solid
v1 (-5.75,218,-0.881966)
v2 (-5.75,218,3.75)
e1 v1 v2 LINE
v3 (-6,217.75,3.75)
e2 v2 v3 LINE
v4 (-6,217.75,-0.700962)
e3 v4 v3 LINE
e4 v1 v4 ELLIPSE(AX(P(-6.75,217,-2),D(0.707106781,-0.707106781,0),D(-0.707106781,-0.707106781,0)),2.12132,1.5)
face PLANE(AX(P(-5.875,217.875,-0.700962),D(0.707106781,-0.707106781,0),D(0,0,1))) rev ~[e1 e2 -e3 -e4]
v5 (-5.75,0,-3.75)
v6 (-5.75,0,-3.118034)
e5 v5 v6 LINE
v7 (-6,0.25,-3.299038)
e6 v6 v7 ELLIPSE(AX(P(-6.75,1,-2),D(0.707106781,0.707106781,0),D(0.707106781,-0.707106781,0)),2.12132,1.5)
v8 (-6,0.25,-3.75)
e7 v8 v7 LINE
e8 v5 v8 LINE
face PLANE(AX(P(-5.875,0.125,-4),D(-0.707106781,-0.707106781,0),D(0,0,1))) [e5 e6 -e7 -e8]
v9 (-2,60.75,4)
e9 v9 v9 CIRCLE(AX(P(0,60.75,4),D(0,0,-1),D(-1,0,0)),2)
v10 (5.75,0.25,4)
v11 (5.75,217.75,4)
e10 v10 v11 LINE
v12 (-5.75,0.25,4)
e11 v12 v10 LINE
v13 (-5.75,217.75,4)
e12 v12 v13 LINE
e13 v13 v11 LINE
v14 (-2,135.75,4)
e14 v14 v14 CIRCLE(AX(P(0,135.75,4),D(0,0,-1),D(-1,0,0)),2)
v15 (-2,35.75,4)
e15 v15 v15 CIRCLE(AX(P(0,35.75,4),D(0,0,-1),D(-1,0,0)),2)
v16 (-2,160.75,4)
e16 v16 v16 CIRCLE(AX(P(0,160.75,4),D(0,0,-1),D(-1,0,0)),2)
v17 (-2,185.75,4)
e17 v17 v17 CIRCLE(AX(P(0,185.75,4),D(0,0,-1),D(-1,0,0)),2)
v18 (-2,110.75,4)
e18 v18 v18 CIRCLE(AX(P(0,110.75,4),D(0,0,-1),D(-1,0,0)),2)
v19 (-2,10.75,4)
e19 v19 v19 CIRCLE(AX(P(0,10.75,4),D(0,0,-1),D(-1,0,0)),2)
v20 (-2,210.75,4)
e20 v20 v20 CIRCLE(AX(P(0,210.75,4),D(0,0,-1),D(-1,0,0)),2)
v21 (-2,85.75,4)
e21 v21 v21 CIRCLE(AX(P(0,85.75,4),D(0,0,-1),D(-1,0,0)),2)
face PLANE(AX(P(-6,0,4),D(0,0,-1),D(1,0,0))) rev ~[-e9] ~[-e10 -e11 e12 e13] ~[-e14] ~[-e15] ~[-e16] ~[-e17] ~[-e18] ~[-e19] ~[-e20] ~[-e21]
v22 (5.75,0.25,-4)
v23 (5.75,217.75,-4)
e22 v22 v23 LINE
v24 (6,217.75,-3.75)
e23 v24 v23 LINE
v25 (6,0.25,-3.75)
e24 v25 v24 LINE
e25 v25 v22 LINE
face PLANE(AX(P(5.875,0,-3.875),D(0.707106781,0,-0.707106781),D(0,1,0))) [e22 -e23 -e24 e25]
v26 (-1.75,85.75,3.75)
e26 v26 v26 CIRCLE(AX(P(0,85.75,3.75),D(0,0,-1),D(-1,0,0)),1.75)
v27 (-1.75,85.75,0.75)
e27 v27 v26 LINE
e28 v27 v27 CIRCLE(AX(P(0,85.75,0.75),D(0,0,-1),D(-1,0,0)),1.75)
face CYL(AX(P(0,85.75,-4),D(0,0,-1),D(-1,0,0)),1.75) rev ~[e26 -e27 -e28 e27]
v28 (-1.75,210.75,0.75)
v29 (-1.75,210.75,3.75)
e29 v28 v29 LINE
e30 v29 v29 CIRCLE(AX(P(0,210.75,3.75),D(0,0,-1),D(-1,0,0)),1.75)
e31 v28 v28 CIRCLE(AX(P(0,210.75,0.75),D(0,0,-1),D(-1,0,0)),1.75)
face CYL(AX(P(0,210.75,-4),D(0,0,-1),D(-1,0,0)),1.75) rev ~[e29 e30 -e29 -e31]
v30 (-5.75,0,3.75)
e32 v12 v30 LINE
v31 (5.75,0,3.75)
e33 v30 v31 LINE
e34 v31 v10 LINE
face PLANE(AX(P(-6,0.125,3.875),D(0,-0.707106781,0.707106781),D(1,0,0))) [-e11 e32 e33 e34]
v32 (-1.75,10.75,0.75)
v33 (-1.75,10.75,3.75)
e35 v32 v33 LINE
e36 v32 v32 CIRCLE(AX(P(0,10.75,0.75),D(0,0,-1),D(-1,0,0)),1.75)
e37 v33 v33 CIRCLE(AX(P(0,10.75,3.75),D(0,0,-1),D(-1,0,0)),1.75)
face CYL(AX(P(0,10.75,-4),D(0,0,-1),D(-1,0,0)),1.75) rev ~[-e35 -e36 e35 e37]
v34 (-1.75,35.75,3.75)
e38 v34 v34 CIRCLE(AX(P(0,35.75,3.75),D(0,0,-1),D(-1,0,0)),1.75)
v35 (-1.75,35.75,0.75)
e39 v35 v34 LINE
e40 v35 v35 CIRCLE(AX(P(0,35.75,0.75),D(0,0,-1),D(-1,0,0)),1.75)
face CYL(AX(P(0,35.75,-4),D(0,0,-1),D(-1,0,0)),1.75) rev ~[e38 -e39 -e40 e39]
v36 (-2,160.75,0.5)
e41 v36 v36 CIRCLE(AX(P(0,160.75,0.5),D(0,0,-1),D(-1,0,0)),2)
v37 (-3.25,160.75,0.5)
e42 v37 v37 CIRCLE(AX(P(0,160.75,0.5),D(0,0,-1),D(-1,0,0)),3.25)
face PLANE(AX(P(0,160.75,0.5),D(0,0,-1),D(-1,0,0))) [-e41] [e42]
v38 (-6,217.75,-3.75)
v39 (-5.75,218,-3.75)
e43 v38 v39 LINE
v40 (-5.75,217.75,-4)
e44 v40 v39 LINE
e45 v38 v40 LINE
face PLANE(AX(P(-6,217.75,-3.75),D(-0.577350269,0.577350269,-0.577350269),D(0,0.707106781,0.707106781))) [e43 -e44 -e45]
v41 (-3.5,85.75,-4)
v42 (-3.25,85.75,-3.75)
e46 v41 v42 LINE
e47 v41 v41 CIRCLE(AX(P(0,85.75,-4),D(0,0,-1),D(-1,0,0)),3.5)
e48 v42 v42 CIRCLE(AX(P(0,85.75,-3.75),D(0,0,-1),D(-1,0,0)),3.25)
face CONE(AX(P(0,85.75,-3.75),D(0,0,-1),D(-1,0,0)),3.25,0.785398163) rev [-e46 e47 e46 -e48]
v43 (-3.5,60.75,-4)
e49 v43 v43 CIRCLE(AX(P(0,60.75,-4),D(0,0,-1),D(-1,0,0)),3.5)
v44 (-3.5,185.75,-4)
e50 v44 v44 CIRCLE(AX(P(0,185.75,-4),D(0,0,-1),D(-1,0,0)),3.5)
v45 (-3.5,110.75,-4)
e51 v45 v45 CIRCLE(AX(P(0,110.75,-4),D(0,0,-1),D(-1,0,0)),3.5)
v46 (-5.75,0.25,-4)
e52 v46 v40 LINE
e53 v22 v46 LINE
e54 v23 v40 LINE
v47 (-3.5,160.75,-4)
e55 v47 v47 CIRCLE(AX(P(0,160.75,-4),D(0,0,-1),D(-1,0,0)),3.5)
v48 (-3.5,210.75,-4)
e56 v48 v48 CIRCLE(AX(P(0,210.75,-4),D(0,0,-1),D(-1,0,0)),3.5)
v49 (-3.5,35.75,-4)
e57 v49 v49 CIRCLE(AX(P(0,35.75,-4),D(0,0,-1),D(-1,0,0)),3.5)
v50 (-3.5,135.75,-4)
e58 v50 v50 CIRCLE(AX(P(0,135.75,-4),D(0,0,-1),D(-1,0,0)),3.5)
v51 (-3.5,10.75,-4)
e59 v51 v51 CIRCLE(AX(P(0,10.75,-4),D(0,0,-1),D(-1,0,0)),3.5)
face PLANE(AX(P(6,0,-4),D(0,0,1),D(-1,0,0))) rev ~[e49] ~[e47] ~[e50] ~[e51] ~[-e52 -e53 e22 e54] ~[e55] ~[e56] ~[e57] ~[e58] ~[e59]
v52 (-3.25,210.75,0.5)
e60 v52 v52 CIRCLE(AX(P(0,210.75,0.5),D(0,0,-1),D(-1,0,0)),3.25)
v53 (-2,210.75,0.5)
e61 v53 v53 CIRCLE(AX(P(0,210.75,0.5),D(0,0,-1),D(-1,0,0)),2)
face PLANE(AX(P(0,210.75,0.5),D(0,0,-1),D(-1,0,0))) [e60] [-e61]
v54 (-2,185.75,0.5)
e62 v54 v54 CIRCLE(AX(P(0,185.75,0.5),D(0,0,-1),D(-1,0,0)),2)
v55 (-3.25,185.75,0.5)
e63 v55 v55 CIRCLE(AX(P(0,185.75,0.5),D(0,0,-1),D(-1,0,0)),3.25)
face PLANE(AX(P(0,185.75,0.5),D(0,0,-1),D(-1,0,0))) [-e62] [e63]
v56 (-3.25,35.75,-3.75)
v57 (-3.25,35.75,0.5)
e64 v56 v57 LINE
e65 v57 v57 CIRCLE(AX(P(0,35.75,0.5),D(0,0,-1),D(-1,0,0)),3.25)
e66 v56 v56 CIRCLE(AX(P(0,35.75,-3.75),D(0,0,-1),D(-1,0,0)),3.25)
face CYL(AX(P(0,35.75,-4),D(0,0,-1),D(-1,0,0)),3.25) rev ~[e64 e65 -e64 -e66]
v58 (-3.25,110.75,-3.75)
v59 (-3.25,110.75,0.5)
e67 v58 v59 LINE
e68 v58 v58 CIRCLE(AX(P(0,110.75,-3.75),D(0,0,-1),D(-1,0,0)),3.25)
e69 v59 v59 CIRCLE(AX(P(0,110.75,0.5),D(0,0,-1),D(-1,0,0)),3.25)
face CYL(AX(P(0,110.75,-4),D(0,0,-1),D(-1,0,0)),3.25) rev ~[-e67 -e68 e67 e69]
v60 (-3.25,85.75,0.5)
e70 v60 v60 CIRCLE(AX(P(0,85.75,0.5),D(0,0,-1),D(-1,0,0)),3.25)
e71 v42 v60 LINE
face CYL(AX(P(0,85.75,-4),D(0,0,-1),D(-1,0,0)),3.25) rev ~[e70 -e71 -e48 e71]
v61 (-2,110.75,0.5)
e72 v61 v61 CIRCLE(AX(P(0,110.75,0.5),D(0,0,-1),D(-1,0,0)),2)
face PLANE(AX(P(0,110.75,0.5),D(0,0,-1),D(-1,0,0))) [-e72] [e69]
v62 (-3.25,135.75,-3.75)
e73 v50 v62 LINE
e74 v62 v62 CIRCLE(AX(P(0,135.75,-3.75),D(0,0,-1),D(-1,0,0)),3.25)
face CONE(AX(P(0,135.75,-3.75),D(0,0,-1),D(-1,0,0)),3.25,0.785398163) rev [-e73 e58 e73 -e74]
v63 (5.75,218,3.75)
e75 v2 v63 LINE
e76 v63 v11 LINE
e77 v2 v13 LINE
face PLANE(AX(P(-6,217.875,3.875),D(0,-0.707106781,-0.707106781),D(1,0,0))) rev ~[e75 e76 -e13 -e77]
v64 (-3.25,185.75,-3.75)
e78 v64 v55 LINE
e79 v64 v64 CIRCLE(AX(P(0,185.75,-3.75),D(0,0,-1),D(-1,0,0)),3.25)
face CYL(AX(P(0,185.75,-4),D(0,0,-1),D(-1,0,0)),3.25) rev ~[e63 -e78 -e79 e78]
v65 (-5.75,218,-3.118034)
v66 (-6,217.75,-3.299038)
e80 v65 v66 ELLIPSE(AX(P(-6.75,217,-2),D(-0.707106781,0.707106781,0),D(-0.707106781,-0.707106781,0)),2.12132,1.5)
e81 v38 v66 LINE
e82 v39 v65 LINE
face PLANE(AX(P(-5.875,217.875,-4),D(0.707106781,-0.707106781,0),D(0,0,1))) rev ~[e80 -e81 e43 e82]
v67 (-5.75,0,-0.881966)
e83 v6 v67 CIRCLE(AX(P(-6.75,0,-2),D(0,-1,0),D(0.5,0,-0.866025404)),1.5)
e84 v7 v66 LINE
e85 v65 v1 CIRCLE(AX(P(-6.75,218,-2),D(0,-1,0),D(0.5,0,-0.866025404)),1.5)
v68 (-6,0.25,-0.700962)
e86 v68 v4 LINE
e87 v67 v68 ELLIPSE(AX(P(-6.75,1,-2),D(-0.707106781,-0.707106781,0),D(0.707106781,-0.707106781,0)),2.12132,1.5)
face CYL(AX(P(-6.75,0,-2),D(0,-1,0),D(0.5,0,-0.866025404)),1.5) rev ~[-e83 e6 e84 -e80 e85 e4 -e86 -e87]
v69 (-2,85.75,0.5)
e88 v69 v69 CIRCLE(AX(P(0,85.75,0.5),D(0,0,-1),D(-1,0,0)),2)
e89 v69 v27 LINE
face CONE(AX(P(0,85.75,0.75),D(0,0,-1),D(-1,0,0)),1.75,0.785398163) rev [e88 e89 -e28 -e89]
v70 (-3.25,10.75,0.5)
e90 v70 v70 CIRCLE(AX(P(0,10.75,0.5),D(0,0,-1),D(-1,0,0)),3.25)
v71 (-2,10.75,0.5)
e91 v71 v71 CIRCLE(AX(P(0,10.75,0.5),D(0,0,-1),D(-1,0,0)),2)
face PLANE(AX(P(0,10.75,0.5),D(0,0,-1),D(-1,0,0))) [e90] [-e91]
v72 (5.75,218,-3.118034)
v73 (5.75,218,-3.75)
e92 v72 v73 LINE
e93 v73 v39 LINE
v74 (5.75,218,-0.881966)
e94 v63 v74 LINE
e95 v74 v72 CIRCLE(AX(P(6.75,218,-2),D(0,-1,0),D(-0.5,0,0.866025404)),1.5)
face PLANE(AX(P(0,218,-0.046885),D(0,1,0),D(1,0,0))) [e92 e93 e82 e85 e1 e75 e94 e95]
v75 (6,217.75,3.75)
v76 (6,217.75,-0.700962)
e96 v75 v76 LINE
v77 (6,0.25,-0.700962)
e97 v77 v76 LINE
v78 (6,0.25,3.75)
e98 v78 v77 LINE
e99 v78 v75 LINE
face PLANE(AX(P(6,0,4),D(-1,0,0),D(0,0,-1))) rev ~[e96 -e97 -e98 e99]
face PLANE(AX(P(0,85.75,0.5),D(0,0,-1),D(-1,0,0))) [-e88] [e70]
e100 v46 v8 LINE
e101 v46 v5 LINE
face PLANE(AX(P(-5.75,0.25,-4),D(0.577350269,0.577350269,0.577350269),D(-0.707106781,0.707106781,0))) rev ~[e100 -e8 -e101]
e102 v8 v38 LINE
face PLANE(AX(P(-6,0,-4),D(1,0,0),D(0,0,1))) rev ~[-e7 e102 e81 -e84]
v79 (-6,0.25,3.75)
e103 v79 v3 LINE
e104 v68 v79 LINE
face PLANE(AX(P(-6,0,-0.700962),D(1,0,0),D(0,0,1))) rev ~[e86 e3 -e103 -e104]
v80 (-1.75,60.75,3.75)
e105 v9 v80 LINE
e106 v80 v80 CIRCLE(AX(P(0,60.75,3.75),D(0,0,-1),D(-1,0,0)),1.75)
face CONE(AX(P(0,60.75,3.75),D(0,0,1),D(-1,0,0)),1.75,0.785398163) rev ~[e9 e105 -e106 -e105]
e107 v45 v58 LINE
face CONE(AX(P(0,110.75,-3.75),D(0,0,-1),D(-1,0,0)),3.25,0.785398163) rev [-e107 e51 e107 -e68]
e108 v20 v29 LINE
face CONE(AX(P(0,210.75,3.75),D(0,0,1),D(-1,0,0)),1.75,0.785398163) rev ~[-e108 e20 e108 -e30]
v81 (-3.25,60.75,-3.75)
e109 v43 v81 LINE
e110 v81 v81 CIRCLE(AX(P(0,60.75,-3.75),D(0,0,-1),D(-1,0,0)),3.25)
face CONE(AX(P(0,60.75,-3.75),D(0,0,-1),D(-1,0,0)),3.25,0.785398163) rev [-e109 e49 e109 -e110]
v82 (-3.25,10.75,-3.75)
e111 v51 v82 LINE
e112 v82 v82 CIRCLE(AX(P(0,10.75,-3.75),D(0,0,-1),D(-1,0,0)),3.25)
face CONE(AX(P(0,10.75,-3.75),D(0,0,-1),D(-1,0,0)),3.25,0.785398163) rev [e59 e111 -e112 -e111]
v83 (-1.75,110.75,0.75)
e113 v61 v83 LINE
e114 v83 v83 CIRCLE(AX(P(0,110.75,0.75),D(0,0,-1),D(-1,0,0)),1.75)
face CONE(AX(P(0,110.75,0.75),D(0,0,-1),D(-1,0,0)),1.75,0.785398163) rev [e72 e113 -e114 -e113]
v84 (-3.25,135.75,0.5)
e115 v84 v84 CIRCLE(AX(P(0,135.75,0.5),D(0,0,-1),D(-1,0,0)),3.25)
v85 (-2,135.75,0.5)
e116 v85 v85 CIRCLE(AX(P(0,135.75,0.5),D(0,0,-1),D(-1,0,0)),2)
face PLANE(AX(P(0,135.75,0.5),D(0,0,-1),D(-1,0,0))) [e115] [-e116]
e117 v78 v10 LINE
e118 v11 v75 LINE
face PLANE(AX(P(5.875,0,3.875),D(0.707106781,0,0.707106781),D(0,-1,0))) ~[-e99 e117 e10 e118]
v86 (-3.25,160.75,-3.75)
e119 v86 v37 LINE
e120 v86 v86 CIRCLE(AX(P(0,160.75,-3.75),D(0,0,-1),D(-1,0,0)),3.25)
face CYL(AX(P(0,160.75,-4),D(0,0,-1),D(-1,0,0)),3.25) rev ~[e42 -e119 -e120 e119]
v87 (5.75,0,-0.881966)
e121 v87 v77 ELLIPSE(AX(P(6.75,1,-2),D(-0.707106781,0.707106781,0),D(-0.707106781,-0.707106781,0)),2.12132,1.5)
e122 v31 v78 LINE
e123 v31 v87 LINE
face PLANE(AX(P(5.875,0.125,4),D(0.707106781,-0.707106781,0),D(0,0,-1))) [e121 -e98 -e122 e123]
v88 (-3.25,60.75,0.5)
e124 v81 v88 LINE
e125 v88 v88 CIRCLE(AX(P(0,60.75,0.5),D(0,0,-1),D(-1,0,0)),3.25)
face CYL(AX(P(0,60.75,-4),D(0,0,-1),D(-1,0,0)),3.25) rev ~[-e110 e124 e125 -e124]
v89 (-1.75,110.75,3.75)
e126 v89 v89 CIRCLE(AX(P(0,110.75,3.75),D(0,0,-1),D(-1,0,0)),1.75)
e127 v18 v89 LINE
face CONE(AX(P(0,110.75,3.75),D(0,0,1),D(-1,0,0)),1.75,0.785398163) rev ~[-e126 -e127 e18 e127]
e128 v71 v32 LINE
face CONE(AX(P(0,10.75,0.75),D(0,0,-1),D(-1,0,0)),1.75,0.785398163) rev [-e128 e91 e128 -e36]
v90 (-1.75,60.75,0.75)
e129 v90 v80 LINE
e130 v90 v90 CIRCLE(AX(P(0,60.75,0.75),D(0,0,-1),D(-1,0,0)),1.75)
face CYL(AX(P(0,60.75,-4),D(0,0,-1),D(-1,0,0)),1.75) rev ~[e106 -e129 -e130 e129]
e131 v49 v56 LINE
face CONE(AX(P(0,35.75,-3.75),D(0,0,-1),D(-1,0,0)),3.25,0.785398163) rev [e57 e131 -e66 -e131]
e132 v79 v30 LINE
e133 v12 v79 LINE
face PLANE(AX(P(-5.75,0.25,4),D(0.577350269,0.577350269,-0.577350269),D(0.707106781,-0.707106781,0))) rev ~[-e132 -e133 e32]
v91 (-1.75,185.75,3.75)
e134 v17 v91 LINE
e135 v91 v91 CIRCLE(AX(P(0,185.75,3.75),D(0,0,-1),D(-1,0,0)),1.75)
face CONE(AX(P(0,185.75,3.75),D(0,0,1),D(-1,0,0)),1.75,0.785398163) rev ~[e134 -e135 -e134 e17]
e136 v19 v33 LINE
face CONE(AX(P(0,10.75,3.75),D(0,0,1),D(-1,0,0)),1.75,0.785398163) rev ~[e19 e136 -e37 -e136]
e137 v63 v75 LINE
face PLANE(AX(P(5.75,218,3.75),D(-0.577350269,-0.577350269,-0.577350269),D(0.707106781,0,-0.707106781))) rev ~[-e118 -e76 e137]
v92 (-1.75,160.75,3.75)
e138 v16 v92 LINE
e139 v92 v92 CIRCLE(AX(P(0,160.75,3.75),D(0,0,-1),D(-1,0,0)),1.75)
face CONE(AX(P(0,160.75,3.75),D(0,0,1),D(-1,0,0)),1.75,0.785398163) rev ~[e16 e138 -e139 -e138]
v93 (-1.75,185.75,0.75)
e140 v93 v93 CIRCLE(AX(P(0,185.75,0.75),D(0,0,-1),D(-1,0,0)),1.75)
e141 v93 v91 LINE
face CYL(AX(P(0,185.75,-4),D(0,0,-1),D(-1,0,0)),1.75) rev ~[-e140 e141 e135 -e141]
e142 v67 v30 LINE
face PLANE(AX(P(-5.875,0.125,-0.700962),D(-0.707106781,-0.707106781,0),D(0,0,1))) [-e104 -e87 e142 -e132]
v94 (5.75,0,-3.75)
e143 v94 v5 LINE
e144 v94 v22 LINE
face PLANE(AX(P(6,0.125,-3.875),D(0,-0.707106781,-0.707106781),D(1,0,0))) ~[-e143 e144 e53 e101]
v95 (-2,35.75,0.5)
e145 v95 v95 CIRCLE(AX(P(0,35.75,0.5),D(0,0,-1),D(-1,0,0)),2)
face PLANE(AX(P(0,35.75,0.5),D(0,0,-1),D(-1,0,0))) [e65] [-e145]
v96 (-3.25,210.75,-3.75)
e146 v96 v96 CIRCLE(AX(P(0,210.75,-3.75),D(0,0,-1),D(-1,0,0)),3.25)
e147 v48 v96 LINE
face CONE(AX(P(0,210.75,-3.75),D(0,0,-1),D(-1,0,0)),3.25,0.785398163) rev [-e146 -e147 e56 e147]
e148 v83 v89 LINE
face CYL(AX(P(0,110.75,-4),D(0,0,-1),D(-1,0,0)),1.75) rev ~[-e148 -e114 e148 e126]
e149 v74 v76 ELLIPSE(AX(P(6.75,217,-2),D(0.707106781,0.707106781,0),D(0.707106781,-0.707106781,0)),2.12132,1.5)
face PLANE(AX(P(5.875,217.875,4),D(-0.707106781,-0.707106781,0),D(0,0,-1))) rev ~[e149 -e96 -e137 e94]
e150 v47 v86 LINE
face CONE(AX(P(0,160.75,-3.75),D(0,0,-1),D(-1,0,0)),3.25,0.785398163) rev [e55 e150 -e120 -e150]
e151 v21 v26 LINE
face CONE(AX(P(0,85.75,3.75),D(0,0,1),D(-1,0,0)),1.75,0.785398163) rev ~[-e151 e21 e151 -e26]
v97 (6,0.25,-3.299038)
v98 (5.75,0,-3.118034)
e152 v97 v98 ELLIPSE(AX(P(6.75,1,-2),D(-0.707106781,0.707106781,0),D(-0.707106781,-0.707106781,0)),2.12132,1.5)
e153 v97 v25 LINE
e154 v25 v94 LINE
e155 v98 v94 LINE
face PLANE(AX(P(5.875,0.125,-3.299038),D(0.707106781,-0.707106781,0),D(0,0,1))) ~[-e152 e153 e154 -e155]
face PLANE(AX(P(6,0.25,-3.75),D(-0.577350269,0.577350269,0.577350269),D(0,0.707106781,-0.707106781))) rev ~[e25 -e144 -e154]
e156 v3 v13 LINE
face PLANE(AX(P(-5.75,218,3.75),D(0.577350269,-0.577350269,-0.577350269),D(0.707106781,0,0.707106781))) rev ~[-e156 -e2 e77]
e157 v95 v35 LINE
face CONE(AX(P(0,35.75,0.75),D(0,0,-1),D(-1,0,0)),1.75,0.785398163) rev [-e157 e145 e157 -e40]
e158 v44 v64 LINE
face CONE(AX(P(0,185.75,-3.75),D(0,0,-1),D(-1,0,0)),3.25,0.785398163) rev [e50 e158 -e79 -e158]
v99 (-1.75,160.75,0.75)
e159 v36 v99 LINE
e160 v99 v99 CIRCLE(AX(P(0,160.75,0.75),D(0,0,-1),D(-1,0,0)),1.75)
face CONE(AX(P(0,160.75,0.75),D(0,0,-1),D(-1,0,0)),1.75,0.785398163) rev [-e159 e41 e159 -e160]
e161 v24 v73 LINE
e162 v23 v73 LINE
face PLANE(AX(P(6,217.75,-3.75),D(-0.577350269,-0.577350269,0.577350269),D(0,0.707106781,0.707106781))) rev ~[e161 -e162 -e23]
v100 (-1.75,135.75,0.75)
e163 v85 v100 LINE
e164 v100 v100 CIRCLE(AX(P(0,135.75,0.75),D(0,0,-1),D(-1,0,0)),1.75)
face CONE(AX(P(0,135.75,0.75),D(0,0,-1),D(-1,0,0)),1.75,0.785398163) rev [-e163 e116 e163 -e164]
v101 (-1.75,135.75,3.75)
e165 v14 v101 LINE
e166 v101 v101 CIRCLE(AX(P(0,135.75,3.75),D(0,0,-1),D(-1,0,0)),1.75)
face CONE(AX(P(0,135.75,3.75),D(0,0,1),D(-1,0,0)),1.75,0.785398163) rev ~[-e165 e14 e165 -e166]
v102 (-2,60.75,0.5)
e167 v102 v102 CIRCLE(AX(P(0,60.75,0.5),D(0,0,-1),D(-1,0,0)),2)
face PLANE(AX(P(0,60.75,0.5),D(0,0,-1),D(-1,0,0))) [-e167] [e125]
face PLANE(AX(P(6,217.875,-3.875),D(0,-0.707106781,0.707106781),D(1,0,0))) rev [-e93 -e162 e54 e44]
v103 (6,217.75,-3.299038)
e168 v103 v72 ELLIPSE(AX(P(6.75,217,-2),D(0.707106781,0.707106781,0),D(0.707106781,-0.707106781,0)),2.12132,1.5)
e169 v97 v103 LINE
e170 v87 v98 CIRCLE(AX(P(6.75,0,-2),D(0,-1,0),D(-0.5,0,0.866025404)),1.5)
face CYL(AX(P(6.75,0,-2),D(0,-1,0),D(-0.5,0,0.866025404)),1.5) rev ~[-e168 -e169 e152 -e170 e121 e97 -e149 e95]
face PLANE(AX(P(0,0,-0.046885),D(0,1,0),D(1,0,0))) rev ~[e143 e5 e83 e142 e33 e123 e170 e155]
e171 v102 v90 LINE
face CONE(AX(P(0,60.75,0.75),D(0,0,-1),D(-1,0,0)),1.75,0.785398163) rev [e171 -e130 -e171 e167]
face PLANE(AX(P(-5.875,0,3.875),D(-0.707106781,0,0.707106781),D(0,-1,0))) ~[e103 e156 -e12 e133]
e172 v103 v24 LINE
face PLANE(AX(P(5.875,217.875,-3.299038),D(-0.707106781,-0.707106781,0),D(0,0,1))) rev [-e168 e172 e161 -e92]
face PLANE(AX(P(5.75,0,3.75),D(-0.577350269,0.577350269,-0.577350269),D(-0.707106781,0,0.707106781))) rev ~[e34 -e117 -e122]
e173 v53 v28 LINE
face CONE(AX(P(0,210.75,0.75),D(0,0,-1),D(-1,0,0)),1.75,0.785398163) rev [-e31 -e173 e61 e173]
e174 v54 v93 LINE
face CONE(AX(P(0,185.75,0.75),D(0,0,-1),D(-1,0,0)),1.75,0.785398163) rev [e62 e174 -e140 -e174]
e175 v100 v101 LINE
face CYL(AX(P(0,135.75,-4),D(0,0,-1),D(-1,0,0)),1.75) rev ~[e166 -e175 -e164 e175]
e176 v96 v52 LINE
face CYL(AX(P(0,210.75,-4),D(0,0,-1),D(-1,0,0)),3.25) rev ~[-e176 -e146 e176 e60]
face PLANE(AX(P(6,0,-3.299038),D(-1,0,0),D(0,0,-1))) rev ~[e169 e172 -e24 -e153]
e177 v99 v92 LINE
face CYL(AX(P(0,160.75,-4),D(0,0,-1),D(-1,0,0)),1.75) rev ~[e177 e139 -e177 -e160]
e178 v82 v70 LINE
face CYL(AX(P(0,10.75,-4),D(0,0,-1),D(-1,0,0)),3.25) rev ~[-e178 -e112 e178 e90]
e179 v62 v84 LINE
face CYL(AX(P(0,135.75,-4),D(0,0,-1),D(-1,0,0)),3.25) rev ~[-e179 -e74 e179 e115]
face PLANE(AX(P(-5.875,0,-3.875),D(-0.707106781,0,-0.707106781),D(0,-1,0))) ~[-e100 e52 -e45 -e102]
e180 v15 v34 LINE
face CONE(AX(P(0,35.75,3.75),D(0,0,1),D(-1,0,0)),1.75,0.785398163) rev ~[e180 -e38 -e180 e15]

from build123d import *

# Parameters (mm, degrees)
BOSS_EXTRUDE1_DEPTH = 218
SKETCH3_R           = 1.75
CUT_EXTRUDE3_DEPTH  = 8.5
SKETCH3_6_R         = 3.25
SKETCH3_6_R_2       = 1.75
CUT_EXTRUDE4_DEPTH  = 4.5
CHAMFER3_SIZE       = 0.25


with BuildPart() as part:
    # Sketch1 → Boss-Extrude1 (new body)
    with BuildSketch(Plane(origin=(0, 0, 0), x_dir=(1, 0, 0), z_dir=(0, 1, 0))):
        with BuildLine():
            Line((6, 4), (-6, 4))
            Line((-6, 4), (-6, 3.299038106))
            ThreePointArc((-6, 3.299038106), (-5.25, 2), (-6, 0.700961894))
            Line((-6, 0.700961894), (-6, -4))
            Line((-6, -4), (6, -4))
            Line((6, -4), (6, 0.700961894))
            ThreePointArc((6, 0.700961894), (5.25, 2), (6, 3.299038106))
            Line((6, 3.299038106), (6, 4))
        make_face()
    extrude(amount=BOSS_EXTRUDE1_DEPTH)

    # Sketch3 → Cut-Extrude3 (cut)
    with BuildSketch(Plane(origin=(0, 0, -4), x_dir=(-1, 0, 0), z_dir=(0, 0, -1))):
        with Locations((0, 335.75)):
            Circle(SKETCH3_R)
        with Locations((0, 310.75)):
            Circle(SKETCH3_R)
        with Locations((0, 285.75)):
            Circle(SKETCH3_R)
        with Locations((0, 260.75)):
            Circle(SKETCH3_R)
        with Locations((0, 235.75)):
            Circle(SKETCH3_R)
        with Locations((0, 210.75)):
            Circle(SKETCH3_R)
        with Locations((0, 185.75)):
            Circle(SKETCH3_R)
        with Locations((0, 160.75)):
            Circle(SKETCH3_R)
        with Locations((0, 110.75)):
            Circle(SKETCH3_R)
        with Locations((0, 85.75)):
            Circle(SKETCH3_R)
        with Locations((0, 60.75)):
            Circle(SKETCH3_R)
        with Locations((0, 35.75)):
            Circle(SKETCH3_R)
        with Locations((0, 135.75)):
            Circle(SKETCH3_R)
        with Locations((0, 10.75)):
            Circle(SKETCH3_R)
    extrude(amount=-CUT_EXTRUDE3_DEPTH, mode=Mode.SUBTRACT)

    # Sketch3<6> → Cut-Extrude4 (cut)
    # profile 1 of 14: a face of its own
    with BuildSketch(Plane(origin=(0, 0, -4), x_dir=(-1, 0, 0), z_dir=(0, 0, -1))):
        with Locations((0, 10.75)):
            Circle(SKETCH3_6_R)
        with Locations((0, 10.75)):
            Circle(SKETCH3_6_R_2, mode=Mode.SUBTRACT)
    # profile 2 of 14: a face of its own
    with BuildSketch(Plane(origin=(0, 0, -4), x_dir=(-1, 0, 0), z_dir=(0, 0, -1))):
        with Locations((0, 35.75)):
            Circle(SKETCH3_6_R)
        with Locations((0, 35.75)):
            Circle(SKETCH3_6_R_2, mode=Mode.SUBTRACT)
    # profile 3 of 14: a face of its own
    with BuildSketch(Plane(origin=(0, 0, -4), x_dir=(-1, 0, 0), z_dir=(0, 0, -1))):
        with Locations((0, 60.75)):
            Circle(SKETCH3_6_R)
        with Locations((0, 60.75)):
            Circle(SKETCH3_6_R_2, mode=Mode.SUBTRACT)
    # profile 4 of 14: a face of its own
    with BuildSketch(Plane(origin=(0, 0, -4), x_dir=(-1, 0, 0), z_dir=(0, 0, -1))):
        with Locations((0, 85.75)):
            Circle(SKETCH3_6_R)
        with Locations((0, 85.75)):
            Circle(SKETCH3_6_R_2, mode=Mode.SUBTRACT)
    # profile 5 of 14: a face of its own
    with BuildSketch(Plane(origin=(0, 0, -4), x_dir=(-1, 0, 0), z_dir=(0, 0, -1))):
        with Locations((0, 110.75)):
            Circle(SKETCH3_6_R)
        with Locations((0, 110.75)):
            Circle(SKETCH3_6_R_2, mode=Mode.SUBTRACT)
    # profile 6 of 14: a face of its own
    with BuildSketch(Plane(origin=(0, 0, -4), x_dir=(-1, 0, 0), z_dir=(0, 0, -1))):
        with Locations((0, 135.75)):
            Circle(SKETCH3_6_R)
        with Locations((0, 135.75)):
            Circle(SKETCH3_6_R_2, mode=Mode.SUBTRACT)
    # profile 7 of 14: a face of its own
    with BuildSketch(Plane(origin=(0, 0, -4), x_dir=(-1, 0, 0), z_dir=(0, 0, -1))):
        with Locations((0, 160.75)):
            Circle(SKETCH3_6_R)
        with Locations((0, 160.75)):
            Circle(SKETCH3_6_R_2, mode=Mode.SUBTRACT)
    # profile 8 of 14: a face of its own
    with BuildSketch(Plane(origin=(0, 0, -4), x_dir=(-1, 0, 0), z_dir=(0, 0, -1))):
        with Locations((0, 185.75)):
            Circle(SKETCH3_6_R)
        with Locations((0, 185.75)):
            Circle(SKETCH3_6_R_2, mode=Mode.SUBTRACT)
    # profile 9 of 14: a face of its own
    with BuildSketch(Plane(origin=(0, 0, -4), x_dir=(-1, 0, 0), z_dir=(0, 0, -1))):
        with Locations((0, 210.75)):
            Circle(SKETCH3_6_R)
        with Locations((0, 210.75)):
            Circle(SKETCH3_6_R_2, mode=Mode.SUBTRACT)
    # profile 10 of 14: a face of its own
    with BuildSketch(Plane(origin=(0, 0, -4), x_dir=(-1, 0, 0), z_dir=(0, 0, -1))):
        with Locations((0, 235.75)):
            Circle(SKETCH3_6_R)
        with Locations((0, 235.75)):
            Circle(SKETCH3_6_R_2, mode=Mode.SUBTRACT)
    # profile 11 of 14: a face of its own
    with BuildSketch(Plane(origin=(0, 0, -4), x_dir=(-1, 0, 0), z_dir=(0, 0, -1))):
        with Locations((0, 260.75)):
            Circle(SKETCH3_6_R)
        with Locations((0, 260.75)):
            Circle(SKETCH3_6_R_2, mode=Mode.SUBTRACT)
    # profile 12 of 14: a face of its own
    with BuildSketch(Plane(origin=(0, 0, -4), x_dir=(-1, 0, 0), z_dir=(0, 0, -1))):
        with Locations((0, 285.75)):
            Circle(SKETCH3_6_R)
        with Locations((0, 285.75)):
            Circle(SKETCH3_6_R_2, mode=Mode.SUBTRACT)
    # profile 13 of 14: a face of its own
    with BuildSketch(Plane(origin=(0, 0, -4), x_dir=(-1, 0, 0), z_dir=(0, 0, -1))):
        with Locations((0, 310.75)):
            Circle(SKETCH3_6_R)
        with Locations((0, 310.75)):
            Circle(SKETCH3_6_R_2, mode=Mode.SUBTRACT)
    # profile 14 of 14: a face of its own
    with BuildSketch(Plane(origin=(0, 0, -4), x_dir=(-1, 0, 0), z_dir=(0, 0, -1))):
        with Locations((0, 335.75)):
            Circle(SKETCH3_6_R)
        with Locations((0, 335.75)):
            Circle(SKETCH3_6_R_2, mode=Mode.SUBTRACT)
    extrude(amount=-CUT_EXTRUDE4_DEPTH, mode=Mode.SUBTRACT)

    # Chamfer3
    chamfer3_edges = [part.edges().sort_by_distance(p)[0] for p in [
        (-6, 0, 1.649519053),
        (1.75, 85.75, 0.5),
        (3.25, 85.75, -4),
        (1.75, 110.75, 0.5),
        (3.25, 110.75, -4),
        (1.75, 135.75, 0.5),
        (3.25, 135.75, -4),
        (-6, 0, -3.649519053),
        (1.75, 160.75, 0.5),
        (3.25, 160.75, -4),
        (1.75, 185.75, 0.5),
        (3.25, 185.75, -4),
        (0, 0, -4),
        (1.75, 210.75, 0.5),
        (3.25, 210.75, -4),
        (6, 0, -3.649519053),
        (0, 218, -4),
        (6, 109, 4),
        (-6, 109, 4),
        (-6, 109, -4),
        (6, 109, -4),
        (-6, 218, -3.649519053),
        (-6, 218, 1.649519053),
        (0, 218, 4),
        (6, 218, 1.649519053),
        (1.75, 210.75, 4),
        (1.75, 185.75, 4),
        (1.75, 60.75, 4),
        (1.75, 35.75, 4),
        (1.75, 135.75, 4),
        (1.75, 10.75, 4),
        (1.75, 85.75, 4),
        (1.75, 110.75, 4),
        (1.75, 160.75, 4),
        (1.75, 10.75, 0.5),
        (3.25, 10.75, -4),
        (6, 218, -3.649519053),
        (6, 0, 1.649519053),
        (0, 0, 4),
        (1.75, 35.75, 0.5),
        (3.25, 35.75, -4),
        (1.75, 60.75, 0.5),
        (3.25, 60.75, -4),
    ]]
    chamfer(chamfer3_edges, length=CHAMFER3_SIZE)


solid = part.part
